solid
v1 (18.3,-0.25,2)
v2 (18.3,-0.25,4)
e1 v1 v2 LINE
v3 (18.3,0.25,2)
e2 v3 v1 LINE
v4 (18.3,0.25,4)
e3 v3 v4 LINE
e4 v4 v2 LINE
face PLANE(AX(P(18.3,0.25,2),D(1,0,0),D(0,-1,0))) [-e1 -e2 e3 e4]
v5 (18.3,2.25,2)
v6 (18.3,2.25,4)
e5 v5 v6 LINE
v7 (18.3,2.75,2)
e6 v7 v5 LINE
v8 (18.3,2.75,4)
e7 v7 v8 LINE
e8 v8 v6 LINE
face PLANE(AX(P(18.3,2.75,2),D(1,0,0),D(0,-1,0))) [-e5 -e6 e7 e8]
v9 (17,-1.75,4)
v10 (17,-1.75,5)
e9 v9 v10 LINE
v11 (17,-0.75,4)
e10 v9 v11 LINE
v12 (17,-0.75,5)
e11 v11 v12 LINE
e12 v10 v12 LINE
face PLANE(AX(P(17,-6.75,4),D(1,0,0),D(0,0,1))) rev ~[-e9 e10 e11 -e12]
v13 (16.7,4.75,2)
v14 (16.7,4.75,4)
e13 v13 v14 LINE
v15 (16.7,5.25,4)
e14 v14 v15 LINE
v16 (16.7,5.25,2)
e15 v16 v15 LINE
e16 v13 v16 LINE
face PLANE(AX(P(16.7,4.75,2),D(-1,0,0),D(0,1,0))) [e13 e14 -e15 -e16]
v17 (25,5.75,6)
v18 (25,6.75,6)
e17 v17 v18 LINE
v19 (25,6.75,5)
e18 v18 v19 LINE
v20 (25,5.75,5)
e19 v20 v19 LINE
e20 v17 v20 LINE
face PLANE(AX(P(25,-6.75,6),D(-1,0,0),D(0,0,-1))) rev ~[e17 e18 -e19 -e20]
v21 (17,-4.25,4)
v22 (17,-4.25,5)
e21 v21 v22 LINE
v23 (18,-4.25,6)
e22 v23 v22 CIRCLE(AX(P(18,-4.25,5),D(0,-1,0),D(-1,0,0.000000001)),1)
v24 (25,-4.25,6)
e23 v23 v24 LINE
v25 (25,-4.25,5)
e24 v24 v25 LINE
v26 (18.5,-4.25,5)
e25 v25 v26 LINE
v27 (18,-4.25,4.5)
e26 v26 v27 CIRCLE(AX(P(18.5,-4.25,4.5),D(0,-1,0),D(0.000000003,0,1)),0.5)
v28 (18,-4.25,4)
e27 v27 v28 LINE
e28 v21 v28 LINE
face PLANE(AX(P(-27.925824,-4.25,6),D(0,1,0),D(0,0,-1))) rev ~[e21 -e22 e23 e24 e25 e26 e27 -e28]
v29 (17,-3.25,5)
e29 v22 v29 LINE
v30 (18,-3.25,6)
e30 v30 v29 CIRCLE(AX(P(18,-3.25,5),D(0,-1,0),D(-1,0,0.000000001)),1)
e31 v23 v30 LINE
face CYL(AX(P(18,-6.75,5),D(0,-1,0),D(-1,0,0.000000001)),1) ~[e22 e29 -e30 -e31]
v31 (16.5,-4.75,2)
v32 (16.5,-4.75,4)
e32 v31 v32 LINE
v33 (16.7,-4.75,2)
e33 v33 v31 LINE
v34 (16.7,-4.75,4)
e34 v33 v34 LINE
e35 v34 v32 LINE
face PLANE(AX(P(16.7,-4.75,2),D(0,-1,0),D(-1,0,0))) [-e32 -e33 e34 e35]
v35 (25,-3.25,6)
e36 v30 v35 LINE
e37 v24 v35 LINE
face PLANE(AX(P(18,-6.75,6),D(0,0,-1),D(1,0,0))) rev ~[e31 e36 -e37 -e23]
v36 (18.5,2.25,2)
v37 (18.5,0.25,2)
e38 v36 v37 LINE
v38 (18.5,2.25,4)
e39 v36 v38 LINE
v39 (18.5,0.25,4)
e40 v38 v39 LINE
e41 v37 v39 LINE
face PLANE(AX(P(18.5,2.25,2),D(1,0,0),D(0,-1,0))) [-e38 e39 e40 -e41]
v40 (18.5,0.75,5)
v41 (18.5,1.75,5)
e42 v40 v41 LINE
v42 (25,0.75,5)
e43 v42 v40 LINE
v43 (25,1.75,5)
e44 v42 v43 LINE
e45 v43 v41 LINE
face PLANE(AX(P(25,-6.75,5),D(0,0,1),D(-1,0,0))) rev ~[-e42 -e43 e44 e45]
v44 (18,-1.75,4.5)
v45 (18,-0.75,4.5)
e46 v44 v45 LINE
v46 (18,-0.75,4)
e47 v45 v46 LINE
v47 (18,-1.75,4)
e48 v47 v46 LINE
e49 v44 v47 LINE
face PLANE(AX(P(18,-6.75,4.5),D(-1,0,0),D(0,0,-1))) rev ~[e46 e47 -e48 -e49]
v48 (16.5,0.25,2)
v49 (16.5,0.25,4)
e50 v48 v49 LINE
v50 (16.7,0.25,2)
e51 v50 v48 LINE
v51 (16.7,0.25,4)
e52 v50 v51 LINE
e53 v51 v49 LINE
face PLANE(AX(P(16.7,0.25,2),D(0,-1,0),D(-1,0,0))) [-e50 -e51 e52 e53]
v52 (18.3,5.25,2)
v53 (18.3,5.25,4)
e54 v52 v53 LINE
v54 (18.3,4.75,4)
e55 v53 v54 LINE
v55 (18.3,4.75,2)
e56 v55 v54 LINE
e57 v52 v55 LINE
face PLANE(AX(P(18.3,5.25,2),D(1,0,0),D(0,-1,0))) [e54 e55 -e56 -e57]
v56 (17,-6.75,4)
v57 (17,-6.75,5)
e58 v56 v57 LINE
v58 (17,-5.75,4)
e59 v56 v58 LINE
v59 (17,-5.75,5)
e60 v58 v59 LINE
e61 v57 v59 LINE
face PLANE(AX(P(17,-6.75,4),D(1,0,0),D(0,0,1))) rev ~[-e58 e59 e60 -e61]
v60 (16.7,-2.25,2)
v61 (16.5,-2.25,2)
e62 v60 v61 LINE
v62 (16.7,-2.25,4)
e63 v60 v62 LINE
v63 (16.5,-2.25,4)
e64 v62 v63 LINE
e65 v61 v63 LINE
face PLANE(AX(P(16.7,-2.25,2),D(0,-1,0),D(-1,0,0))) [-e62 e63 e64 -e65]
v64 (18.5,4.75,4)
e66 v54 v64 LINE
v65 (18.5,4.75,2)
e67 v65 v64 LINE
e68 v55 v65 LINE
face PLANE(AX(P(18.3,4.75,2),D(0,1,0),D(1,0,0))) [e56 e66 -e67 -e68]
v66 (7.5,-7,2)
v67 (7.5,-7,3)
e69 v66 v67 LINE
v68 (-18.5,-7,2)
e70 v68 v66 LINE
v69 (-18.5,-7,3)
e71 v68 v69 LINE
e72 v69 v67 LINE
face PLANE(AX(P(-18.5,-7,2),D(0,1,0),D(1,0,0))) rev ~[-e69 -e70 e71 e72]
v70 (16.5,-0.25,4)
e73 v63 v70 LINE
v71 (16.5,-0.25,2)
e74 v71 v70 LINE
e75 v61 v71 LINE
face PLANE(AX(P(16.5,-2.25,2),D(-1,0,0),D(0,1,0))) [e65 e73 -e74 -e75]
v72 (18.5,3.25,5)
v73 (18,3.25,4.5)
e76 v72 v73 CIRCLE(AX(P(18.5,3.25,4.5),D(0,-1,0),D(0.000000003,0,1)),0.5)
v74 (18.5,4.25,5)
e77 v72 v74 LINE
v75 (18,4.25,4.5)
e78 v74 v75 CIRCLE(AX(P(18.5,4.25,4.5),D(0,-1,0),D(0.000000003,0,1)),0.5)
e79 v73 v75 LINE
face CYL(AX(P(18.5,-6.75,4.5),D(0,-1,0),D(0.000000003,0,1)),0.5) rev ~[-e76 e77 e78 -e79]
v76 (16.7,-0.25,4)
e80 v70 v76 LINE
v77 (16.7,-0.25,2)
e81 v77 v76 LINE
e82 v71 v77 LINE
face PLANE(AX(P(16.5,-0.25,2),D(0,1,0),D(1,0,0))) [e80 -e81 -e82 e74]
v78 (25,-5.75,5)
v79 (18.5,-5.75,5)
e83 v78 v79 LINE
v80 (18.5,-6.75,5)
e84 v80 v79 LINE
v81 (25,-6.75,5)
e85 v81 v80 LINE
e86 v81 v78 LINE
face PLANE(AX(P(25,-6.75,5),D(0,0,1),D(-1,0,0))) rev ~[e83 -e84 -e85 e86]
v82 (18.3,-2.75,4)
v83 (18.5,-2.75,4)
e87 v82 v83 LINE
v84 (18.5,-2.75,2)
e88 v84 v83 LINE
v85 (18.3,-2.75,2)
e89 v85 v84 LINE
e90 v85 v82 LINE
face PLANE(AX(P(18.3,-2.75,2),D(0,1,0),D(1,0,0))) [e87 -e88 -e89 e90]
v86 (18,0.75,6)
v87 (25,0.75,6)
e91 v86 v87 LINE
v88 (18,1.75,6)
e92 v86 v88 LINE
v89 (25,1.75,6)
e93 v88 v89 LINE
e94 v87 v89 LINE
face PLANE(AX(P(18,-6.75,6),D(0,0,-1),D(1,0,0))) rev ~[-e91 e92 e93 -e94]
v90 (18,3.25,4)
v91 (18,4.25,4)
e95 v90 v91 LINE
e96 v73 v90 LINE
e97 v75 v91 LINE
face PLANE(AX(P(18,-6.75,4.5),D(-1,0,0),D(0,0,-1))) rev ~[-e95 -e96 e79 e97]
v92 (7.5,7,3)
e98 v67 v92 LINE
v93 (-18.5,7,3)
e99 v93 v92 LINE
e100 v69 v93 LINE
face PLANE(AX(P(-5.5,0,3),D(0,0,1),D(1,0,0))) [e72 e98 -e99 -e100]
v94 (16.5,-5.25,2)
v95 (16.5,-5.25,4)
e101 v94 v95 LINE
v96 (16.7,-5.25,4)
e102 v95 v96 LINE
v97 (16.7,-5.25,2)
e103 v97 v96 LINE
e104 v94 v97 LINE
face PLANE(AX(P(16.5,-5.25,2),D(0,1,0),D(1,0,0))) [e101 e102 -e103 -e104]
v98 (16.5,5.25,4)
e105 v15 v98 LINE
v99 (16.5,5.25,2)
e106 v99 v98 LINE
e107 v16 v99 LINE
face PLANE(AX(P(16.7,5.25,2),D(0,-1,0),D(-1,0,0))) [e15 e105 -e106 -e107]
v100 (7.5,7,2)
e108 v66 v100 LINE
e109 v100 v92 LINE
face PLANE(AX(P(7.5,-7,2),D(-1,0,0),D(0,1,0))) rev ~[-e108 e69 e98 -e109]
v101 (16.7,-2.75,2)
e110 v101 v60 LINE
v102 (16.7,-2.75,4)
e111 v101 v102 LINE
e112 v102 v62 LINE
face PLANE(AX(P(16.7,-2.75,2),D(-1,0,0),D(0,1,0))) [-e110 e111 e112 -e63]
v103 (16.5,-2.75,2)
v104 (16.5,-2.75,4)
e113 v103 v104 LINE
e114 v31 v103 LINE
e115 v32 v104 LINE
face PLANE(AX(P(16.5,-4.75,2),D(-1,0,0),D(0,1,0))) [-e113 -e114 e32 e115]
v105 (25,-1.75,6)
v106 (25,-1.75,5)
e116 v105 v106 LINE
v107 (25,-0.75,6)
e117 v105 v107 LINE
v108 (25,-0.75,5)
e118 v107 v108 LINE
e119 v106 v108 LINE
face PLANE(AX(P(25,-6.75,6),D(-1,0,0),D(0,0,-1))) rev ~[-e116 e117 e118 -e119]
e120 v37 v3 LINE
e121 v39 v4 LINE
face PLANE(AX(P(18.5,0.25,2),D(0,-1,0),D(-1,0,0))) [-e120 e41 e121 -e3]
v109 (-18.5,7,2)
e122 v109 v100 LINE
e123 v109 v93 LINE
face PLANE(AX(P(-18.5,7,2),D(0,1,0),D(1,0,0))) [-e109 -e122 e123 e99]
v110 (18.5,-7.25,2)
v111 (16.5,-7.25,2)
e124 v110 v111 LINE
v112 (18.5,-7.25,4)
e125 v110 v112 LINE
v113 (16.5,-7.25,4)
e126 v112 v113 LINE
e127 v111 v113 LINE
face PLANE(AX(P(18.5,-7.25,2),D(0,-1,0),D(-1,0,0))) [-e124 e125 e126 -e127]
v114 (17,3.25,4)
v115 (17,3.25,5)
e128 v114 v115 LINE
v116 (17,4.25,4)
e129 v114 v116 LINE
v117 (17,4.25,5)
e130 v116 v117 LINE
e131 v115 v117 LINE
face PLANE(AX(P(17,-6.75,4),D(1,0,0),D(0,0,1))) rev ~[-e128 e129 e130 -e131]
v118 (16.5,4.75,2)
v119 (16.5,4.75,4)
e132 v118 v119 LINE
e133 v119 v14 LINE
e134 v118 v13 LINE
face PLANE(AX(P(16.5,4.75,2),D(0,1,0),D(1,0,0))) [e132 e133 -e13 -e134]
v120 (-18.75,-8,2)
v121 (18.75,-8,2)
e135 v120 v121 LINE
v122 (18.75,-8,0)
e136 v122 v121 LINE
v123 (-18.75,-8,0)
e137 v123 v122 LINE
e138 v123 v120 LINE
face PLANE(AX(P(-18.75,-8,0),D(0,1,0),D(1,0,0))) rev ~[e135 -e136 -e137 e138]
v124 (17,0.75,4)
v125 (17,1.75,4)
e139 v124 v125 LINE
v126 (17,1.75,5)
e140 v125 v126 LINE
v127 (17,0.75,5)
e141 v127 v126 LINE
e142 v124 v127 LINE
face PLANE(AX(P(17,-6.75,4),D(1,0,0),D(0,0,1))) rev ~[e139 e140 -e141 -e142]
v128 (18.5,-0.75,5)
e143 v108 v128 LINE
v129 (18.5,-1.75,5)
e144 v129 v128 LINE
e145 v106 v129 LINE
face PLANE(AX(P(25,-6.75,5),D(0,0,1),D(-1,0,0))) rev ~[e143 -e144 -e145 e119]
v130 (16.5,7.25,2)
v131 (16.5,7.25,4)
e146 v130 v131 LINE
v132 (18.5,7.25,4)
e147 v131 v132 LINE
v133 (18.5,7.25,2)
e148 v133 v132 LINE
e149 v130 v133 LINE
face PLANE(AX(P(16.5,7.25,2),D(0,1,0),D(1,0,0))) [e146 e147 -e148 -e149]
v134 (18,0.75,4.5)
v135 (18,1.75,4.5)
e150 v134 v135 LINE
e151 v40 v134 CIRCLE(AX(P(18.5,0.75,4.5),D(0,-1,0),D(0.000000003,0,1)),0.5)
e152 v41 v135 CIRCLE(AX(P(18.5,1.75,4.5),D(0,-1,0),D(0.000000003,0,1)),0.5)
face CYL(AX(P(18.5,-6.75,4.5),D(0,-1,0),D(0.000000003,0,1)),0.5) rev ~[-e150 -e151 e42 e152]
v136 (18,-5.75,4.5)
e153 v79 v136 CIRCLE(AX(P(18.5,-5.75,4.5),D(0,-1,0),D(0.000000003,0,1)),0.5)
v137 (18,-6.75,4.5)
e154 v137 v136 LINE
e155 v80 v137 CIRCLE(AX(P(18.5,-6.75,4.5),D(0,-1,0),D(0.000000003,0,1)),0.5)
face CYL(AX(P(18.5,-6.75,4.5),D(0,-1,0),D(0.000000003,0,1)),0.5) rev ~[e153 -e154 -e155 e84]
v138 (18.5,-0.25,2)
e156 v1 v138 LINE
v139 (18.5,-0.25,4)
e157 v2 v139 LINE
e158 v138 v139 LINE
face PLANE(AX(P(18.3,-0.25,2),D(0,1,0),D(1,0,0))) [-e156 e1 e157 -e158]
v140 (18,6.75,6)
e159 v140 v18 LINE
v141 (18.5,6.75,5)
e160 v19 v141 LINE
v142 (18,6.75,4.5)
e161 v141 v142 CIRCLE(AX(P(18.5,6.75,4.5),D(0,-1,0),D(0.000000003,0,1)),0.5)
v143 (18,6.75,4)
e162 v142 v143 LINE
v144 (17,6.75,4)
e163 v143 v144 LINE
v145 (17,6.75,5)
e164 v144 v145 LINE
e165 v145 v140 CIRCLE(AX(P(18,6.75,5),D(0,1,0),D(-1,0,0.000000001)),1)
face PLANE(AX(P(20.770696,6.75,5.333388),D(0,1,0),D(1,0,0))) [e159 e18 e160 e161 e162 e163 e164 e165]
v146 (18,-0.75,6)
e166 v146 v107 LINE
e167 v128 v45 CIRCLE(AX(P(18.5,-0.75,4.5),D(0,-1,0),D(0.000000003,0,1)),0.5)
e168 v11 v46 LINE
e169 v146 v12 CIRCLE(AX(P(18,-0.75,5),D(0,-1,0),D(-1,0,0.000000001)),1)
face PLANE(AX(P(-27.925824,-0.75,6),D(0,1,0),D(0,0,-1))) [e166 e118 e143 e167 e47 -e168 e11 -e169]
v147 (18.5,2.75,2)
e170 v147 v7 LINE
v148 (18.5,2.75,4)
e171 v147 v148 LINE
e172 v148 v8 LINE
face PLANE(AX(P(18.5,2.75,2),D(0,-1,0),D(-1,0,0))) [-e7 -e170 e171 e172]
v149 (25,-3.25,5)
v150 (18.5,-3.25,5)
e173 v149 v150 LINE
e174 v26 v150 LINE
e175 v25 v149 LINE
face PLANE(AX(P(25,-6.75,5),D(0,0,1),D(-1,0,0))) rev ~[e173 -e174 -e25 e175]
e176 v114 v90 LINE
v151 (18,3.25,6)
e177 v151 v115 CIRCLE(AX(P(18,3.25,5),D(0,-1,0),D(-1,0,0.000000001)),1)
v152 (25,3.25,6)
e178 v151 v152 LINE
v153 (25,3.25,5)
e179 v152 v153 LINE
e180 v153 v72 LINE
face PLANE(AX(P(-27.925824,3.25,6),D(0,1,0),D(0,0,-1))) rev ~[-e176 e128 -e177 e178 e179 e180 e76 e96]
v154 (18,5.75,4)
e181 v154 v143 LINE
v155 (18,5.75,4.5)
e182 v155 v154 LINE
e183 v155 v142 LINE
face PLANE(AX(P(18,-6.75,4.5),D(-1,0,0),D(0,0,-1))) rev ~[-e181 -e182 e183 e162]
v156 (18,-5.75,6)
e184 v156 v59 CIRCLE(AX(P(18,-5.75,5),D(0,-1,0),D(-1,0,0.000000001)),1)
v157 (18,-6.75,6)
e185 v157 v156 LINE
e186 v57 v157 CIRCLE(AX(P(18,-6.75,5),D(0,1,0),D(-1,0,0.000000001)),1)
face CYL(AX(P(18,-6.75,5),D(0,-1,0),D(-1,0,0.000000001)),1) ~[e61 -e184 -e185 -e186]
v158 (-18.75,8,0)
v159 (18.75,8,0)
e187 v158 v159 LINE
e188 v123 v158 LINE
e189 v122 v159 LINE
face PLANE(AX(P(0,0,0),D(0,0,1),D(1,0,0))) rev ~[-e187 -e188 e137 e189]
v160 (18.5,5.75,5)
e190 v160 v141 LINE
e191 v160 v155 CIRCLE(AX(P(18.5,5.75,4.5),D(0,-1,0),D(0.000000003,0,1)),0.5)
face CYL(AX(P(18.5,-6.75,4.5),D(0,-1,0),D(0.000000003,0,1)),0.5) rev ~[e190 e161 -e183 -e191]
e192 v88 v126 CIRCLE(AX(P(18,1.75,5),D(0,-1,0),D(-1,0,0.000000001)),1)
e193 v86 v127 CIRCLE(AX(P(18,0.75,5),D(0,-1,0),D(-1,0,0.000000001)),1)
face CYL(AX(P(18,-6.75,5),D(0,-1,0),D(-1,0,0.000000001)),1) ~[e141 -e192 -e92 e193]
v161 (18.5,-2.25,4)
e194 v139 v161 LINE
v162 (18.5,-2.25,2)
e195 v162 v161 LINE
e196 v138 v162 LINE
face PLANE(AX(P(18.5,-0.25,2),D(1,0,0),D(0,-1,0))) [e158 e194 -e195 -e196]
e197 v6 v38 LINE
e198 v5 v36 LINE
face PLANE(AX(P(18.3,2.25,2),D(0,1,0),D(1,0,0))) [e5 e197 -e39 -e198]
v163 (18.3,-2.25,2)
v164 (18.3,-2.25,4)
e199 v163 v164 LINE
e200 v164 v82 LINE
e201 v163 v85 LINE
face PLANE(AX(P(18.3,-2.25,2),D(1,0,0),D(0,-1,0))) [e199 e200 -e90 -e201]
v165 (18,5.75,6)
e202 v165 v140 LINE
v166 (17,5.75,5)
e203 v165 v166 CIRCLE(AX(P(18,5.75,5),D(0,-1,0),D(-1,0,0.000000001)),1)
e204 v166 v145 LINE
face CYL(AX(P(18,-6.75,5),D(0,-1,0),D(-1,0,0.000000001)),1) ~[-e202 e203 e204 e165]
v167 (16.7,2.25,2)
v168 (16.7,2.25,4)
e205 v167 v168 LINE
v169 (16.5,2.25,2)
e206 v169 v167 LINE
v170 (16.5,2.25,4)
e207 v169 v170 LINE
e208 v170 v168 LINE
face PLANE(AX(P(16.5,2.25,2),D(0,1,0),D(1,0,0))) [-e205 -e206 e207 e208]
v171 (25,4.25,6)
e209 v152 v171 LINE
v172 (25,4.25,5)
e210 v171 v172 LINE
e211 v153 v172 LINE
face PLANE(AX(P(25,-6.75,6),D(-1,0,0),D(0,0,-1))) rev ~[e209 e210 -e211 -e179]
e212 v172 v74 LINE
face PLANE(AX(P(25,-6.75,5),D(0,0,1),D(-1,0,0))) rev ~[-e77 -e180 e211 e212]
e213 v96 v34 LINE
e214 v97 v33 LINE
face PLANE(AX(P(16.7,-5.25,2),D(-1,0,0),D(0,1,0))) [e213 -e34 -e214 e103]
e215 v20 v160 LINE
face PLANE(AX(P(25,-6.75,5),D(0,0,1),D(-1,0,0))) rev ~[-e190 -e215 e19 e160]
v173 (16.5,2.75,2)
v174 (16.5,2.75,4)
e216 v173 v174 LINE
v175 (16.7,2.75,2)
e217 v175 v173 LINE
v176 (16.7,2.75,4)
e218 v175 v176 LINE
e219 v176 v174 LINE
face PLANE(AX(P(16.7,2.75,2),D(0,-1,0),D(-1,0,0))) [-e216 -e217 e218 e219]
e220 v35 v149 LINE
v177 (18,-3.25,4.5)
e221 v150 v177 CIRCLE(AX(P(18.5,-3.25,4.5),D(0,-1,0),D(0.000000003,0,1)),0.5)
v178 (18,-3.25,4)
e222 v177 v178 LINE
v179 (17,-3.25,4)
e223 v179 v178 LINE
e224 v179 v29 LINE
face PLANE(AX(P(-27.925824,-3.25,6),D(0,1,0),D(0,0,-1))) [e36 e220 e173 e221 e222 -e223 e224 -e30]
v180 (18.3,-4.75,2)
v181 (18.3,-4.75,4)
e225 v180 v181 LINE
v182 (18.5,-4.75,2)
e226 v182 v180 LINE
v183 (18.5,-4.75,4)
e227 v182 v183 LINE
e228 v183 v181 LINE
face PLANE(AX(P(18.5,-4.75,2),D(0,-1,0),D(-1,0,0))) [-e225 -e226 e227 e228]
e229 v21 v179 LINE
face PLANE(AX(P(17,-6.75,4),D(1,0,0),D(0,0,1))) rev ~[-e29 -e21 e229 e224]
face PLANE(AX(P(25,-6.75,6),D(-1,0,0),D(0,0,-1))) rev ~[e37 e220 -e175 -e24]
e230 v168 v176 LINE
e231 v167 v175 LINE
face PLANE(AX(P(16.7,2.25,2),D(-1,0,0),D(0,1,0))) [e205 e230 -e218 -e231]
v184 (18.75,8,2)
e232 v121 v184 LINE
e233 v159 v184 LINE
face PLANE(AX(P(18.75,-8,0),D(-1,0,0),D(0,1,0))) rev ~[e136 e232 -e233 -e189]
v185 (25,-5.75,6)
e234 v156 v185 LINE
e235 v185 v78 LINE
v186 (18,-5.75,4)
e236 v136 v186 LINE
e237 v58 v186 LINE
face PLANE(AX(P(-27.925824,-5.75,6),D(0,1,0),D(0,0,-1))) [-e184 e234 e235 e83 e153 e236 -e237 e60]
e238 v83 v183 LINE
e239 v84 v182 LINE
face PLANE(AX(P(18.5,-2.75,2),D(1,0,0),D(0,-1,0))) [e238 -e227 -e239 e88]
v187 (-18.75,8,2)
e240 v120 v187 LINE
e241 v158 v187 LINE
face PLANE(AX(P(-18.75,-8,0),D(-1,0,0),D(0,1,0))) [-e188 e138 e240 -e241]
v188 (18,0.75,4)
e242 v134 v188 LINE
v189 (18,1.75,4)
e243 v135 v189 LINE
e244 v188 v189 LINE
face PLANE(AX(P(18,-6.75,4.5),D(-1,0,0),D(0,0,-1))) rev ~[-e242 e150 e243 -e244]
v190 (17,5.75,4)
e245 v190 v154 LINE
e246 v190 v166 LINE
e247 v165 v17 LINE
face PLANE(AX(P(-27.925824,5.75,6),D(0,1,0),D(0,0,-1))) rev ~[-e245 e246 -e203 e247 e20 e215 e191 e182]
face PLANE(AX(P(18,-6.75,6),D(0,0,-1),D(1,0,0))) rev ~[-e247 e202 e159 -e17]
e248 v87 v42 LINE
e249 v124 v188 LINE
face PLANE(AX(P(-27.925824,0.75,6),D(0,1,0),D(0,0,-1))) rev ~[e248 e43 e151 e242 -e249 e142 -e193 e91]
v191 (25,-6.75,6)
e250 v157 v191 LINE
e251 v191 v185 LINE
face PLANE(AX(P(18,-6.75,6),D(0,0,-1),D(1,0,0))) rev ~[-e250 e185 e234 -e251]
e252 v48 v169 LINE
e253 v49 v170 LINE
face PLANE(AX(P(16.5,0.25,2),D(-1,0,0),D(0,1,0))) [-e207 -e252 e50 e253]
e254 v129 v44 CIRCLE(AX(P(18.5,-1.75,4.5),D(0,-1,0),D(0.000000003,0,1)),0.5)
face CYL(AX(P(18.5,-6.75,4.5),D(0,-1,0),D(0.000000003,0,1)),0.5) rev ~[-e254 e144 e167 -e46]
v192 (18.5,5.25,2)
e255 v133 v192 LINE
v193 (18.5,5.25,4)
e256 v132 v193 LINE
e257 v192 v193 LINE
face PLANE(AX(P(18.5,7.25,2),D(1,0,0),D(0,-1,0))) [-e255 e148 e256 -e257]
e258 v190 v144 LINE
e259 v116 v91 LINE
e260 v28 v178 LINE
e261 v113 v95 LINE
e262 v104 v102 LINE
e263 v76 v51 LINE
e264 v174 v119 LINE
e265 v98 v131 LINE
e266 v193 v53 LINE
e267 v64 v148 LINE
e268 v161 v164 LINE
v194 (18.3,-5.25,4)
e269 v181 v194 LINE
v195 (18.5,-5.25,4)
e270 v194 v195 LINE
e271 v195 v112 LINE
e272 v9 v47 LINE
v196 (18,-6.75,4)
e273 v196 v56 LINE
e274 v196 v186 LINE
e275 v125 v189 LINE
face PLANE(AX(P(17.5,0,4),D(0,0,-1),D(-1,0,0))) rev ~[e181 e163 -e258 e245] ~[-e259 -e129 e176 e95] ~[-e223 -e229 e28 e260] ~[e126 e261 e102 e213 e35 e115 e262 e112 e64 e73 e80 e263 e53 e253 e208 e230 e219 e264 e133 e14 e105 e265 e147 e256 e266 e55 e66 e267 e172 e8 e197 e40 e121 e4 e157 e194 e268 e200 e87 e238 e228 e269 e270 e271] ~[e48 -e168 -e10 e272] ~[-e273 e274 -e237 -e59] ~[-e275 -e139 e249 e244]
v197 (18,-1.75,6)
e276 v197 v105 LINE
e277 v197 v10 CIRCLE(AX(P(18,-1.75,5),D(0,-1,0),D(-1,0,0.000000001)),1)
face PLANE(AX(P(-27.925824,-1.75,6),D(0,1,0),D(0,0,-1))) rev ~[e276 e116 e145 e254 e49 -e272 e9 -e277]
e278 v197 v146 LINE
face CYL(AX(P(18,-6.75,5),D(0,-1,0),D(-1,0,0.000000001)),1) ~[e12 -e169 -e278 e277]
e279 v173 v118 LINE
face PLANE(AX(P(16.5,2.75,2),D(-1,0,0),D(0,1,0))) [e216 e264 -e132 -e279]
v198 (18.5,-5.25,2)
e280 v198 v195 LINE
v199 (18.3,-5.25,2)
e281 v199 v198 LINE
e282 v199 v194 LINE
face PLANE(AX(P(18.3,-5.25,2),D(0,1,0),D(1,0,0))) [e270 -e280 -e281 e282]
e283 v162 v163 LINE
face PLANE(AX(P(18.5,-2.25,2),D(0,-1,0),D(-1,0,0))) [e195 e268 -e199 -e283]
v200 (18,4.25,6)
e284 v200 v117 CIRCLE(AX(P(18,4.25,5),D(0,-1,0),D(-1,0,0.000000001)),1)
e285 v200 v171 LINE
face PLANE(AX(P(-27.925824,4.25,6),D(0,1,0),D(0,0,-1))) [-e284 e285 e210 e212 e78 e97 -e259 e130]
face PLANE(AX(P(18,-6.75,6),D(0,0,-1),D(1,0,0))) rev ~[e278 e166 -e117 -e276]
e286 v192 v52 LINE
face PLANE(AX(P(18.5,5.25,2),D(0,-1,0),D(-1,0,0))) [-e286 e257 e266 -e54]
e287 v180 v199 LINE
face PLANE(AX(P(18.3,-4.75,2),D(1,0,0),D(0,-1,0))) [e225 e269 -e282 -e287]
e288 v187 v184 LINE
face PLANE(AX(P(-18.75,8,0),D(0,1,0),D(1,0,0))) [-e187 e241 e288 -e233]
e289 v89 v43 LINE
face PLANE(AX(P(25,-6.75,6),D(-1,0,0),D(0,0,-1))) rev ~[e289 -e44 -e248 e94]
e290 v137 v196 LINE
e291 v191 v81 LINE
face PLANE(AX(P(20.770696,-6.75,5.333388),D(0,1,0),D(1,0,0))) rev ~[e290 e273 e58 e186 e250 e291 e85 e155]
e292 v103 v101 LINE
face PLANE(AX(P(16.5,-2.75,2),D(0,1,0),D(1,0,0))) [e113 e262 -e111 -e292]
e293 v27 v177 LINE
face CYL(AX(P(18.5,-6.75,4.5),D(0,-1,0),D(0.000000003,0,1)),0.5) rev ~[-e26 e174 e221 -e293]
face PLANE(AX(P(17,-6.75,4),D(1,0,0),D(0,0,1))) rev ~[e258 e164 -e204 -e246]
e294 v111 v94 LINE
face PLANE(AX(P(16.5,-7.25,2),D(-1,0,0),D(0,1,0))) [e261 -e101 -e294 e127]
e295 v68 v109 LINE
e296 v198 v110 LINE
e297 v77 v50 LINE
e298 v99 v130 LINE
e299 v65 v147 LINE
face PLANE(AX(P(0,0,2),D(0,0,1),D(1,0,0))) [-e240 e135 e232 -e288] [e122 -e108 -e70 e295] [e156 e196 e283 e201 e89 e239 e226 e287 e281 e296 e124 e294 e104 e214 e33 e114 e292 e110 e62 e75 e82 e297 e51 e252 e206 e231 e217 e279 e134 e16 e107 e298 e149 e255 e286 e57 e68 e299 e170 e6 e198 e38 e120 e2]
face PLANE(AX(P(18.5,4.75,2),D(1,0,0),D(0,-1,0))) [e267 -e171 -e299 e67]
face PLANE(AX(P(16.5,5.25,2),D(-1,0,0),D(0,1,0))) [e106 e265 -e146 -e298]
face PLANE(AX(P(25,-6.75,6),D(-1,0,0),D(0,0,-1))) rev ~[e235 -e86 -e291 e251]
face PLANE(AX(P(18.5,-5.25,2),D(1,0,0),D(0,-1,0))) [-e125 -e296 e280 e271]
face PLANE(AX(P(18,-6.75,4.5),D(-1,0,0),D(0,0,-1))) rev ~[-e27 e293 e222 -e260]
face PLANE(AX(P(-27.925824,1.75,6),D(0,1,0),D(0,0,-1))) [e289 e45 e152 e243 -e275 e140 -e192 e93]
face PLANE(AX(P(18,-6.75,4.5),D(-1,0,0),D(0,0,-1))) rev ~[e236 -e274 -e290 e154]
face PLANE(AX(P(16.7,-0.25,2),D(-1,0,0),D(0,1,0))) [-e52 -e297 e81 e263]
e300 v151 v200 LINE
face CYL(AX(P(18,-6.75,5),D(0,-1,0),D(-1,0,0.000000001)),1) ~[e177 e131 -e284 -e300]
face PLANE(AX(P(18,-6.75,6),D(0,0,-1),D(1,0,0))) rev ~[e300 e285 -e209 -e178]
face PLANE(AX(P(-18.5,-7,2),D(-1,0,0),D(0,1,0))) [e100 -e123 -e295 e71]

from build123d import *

# Parameters (mm, degrees)
SKETCH1_W                = 37.5
SKETCH1_H                = 16
BOSS_EXTRUDE1_DEPTH      = 2
SKETCH2_W                = 26
SKETCH2_H                = 14
BOSS_EXTRUDE2_DEPTH      = 1
BOSS_EXTRUDE3_DEPTH      = 2
BOSS_EXTRUDE4_DEPTH      = 6.75
BOSS_EXTRUDE4_DEPTH_BACK = 6.75
CUT_EXTRUDE1_DEPTH       = 27.925824036
CUT_EXTRUDE1_DEPTH_BACK  = 27.925824036
SKETCH5_W                = 2
SKETCH5_H                = 1.5


with BuildPart() as part:
    # Sketch1 → Boss-Extrude1 (new body)
    with BuildSketch(Plane.XY):
        Rectangle(SKETCH1_W, SKETCH1_H)
    extrude(amount=BOSS_EXTRUDE1_DEPTH)

    # Sketch2 → Boss-Extrude2 (add)
    with BuildSketch(Plane.XY.offset(2)):
        with Locations((-5.5, 0)):
            Rectangle(SKETCH2_W, SKETCH2_H)
    extrude(amount=BOSS_EXTRUDE2_DEPTH)

    # Sketch3 → Boss-Extrude3 (add)
    with BuildSketch(Plane.XY.offset(2)):
        Polygon((18.3, -5.25), (18.5, -5.25), (18.5, -7.25), (16.5, -7.25), (16.5, -5.25), (16.7, -5.25), (16.7, -4.75), (16.5, -4.75), (16.5, -2.75), (16.7, -2.75), (16.7, -2.25), (16.5, -2.25), (16.5, -0.25), (16.7, -0.25), (16.7, 0.25), (16.5, 0.25), (16.5, 2.25), (16.7, 2.25), (16.7, 2.75), (16.5, 2.75), (16.5, 4.75), (16.7, 4.75), (16.7, 5.25), (16.5, 5.25), (16.5, 7.25), (18.5, 7.25), (18.5, 5.25), (18.3, 5.25), (18.3, 4.75), (18.5, 4.75), (18.5, 2.75), (18.3, 2.75), (18.3, 2.25), (18.5, 2.25), (18.5, 0.25), (18.3, 0.25), (18.3, -0.25), (18.5, -0.25), (18.5, -2.25), (18.3, -2.25), (18.3, -2.75), (18.5, -2.75), (18.5, -4.75), (18.3, -4.75), align=None)
    extrude(amount=BOSS_EXTRUDE3_DEPTH)

    # Sketch4 → Boss-Extrude4 (add, two sides: drawn at the far end of the back side and taken through both)
    with BuildSketch(Plane(origin=(0, 0, 0), x_dir=(1, 0, 0), z_dir=(0, 1, 0)).offset(-BOSS_EXTRUDE4_DEPTH_BACK)):
        with BuildLine():
            Line((17, -4), (17, -5))
            ThreePointArc((17, -5), (17.292893219, -5.707106781), (18, -6))
            Line((18, -6), (25, -6))
            Line((25, -6), (25, -5))
            Line((25, -5), (18.5, -5))
            ThreePointArc((18.5, -5), (18.146446609, -4.853553391), (18, -4.5))
            Line((18, -4.5), (18, -4))
            Line((18, -4), (17, -4))
        make_face()
    extrude(amount=BOSS_EXTRUDE4_DEPTH + BOSS_EXTRUDE4_DEPTH_BACK)

    # Sketch5 → Cut-Extrude1 (cut, two sides: drawn at the far end of the back side and taken through both)
    with BuildSketch(Plane(origin=(0, 0, 0), x_dir=(0, 0, -1), z_dir=(1, 0, 0)).offset(-CUT_EXTRUDE1_DEPTH_BACK)):
        with Locations((-5, -5)):
            Rectangle(SKETCH5_W, SKETCH5_H)
        with Locations((-5, -2.5)):
            Rectangle(SKETCH5_W, SKETCH5_H)
        with Locations((-5, 0)):
            Rectangle(SKETCH5_W, SKETCH5_H)
        with Locations((-5, 2.5)):
            Rectangle(SKETCH5_W, SKETCH5_H)
        with Locations((-5, 5)):
            Rectangle(SKETCH5_W, SKETCH5_H)
    extrude(amount=CUT_EXTRUDE1_DEPTH + CUT_EXTRUDE1_DEPTH_BACK, mode=Mode.SUBTRACT)


solid = part.part
